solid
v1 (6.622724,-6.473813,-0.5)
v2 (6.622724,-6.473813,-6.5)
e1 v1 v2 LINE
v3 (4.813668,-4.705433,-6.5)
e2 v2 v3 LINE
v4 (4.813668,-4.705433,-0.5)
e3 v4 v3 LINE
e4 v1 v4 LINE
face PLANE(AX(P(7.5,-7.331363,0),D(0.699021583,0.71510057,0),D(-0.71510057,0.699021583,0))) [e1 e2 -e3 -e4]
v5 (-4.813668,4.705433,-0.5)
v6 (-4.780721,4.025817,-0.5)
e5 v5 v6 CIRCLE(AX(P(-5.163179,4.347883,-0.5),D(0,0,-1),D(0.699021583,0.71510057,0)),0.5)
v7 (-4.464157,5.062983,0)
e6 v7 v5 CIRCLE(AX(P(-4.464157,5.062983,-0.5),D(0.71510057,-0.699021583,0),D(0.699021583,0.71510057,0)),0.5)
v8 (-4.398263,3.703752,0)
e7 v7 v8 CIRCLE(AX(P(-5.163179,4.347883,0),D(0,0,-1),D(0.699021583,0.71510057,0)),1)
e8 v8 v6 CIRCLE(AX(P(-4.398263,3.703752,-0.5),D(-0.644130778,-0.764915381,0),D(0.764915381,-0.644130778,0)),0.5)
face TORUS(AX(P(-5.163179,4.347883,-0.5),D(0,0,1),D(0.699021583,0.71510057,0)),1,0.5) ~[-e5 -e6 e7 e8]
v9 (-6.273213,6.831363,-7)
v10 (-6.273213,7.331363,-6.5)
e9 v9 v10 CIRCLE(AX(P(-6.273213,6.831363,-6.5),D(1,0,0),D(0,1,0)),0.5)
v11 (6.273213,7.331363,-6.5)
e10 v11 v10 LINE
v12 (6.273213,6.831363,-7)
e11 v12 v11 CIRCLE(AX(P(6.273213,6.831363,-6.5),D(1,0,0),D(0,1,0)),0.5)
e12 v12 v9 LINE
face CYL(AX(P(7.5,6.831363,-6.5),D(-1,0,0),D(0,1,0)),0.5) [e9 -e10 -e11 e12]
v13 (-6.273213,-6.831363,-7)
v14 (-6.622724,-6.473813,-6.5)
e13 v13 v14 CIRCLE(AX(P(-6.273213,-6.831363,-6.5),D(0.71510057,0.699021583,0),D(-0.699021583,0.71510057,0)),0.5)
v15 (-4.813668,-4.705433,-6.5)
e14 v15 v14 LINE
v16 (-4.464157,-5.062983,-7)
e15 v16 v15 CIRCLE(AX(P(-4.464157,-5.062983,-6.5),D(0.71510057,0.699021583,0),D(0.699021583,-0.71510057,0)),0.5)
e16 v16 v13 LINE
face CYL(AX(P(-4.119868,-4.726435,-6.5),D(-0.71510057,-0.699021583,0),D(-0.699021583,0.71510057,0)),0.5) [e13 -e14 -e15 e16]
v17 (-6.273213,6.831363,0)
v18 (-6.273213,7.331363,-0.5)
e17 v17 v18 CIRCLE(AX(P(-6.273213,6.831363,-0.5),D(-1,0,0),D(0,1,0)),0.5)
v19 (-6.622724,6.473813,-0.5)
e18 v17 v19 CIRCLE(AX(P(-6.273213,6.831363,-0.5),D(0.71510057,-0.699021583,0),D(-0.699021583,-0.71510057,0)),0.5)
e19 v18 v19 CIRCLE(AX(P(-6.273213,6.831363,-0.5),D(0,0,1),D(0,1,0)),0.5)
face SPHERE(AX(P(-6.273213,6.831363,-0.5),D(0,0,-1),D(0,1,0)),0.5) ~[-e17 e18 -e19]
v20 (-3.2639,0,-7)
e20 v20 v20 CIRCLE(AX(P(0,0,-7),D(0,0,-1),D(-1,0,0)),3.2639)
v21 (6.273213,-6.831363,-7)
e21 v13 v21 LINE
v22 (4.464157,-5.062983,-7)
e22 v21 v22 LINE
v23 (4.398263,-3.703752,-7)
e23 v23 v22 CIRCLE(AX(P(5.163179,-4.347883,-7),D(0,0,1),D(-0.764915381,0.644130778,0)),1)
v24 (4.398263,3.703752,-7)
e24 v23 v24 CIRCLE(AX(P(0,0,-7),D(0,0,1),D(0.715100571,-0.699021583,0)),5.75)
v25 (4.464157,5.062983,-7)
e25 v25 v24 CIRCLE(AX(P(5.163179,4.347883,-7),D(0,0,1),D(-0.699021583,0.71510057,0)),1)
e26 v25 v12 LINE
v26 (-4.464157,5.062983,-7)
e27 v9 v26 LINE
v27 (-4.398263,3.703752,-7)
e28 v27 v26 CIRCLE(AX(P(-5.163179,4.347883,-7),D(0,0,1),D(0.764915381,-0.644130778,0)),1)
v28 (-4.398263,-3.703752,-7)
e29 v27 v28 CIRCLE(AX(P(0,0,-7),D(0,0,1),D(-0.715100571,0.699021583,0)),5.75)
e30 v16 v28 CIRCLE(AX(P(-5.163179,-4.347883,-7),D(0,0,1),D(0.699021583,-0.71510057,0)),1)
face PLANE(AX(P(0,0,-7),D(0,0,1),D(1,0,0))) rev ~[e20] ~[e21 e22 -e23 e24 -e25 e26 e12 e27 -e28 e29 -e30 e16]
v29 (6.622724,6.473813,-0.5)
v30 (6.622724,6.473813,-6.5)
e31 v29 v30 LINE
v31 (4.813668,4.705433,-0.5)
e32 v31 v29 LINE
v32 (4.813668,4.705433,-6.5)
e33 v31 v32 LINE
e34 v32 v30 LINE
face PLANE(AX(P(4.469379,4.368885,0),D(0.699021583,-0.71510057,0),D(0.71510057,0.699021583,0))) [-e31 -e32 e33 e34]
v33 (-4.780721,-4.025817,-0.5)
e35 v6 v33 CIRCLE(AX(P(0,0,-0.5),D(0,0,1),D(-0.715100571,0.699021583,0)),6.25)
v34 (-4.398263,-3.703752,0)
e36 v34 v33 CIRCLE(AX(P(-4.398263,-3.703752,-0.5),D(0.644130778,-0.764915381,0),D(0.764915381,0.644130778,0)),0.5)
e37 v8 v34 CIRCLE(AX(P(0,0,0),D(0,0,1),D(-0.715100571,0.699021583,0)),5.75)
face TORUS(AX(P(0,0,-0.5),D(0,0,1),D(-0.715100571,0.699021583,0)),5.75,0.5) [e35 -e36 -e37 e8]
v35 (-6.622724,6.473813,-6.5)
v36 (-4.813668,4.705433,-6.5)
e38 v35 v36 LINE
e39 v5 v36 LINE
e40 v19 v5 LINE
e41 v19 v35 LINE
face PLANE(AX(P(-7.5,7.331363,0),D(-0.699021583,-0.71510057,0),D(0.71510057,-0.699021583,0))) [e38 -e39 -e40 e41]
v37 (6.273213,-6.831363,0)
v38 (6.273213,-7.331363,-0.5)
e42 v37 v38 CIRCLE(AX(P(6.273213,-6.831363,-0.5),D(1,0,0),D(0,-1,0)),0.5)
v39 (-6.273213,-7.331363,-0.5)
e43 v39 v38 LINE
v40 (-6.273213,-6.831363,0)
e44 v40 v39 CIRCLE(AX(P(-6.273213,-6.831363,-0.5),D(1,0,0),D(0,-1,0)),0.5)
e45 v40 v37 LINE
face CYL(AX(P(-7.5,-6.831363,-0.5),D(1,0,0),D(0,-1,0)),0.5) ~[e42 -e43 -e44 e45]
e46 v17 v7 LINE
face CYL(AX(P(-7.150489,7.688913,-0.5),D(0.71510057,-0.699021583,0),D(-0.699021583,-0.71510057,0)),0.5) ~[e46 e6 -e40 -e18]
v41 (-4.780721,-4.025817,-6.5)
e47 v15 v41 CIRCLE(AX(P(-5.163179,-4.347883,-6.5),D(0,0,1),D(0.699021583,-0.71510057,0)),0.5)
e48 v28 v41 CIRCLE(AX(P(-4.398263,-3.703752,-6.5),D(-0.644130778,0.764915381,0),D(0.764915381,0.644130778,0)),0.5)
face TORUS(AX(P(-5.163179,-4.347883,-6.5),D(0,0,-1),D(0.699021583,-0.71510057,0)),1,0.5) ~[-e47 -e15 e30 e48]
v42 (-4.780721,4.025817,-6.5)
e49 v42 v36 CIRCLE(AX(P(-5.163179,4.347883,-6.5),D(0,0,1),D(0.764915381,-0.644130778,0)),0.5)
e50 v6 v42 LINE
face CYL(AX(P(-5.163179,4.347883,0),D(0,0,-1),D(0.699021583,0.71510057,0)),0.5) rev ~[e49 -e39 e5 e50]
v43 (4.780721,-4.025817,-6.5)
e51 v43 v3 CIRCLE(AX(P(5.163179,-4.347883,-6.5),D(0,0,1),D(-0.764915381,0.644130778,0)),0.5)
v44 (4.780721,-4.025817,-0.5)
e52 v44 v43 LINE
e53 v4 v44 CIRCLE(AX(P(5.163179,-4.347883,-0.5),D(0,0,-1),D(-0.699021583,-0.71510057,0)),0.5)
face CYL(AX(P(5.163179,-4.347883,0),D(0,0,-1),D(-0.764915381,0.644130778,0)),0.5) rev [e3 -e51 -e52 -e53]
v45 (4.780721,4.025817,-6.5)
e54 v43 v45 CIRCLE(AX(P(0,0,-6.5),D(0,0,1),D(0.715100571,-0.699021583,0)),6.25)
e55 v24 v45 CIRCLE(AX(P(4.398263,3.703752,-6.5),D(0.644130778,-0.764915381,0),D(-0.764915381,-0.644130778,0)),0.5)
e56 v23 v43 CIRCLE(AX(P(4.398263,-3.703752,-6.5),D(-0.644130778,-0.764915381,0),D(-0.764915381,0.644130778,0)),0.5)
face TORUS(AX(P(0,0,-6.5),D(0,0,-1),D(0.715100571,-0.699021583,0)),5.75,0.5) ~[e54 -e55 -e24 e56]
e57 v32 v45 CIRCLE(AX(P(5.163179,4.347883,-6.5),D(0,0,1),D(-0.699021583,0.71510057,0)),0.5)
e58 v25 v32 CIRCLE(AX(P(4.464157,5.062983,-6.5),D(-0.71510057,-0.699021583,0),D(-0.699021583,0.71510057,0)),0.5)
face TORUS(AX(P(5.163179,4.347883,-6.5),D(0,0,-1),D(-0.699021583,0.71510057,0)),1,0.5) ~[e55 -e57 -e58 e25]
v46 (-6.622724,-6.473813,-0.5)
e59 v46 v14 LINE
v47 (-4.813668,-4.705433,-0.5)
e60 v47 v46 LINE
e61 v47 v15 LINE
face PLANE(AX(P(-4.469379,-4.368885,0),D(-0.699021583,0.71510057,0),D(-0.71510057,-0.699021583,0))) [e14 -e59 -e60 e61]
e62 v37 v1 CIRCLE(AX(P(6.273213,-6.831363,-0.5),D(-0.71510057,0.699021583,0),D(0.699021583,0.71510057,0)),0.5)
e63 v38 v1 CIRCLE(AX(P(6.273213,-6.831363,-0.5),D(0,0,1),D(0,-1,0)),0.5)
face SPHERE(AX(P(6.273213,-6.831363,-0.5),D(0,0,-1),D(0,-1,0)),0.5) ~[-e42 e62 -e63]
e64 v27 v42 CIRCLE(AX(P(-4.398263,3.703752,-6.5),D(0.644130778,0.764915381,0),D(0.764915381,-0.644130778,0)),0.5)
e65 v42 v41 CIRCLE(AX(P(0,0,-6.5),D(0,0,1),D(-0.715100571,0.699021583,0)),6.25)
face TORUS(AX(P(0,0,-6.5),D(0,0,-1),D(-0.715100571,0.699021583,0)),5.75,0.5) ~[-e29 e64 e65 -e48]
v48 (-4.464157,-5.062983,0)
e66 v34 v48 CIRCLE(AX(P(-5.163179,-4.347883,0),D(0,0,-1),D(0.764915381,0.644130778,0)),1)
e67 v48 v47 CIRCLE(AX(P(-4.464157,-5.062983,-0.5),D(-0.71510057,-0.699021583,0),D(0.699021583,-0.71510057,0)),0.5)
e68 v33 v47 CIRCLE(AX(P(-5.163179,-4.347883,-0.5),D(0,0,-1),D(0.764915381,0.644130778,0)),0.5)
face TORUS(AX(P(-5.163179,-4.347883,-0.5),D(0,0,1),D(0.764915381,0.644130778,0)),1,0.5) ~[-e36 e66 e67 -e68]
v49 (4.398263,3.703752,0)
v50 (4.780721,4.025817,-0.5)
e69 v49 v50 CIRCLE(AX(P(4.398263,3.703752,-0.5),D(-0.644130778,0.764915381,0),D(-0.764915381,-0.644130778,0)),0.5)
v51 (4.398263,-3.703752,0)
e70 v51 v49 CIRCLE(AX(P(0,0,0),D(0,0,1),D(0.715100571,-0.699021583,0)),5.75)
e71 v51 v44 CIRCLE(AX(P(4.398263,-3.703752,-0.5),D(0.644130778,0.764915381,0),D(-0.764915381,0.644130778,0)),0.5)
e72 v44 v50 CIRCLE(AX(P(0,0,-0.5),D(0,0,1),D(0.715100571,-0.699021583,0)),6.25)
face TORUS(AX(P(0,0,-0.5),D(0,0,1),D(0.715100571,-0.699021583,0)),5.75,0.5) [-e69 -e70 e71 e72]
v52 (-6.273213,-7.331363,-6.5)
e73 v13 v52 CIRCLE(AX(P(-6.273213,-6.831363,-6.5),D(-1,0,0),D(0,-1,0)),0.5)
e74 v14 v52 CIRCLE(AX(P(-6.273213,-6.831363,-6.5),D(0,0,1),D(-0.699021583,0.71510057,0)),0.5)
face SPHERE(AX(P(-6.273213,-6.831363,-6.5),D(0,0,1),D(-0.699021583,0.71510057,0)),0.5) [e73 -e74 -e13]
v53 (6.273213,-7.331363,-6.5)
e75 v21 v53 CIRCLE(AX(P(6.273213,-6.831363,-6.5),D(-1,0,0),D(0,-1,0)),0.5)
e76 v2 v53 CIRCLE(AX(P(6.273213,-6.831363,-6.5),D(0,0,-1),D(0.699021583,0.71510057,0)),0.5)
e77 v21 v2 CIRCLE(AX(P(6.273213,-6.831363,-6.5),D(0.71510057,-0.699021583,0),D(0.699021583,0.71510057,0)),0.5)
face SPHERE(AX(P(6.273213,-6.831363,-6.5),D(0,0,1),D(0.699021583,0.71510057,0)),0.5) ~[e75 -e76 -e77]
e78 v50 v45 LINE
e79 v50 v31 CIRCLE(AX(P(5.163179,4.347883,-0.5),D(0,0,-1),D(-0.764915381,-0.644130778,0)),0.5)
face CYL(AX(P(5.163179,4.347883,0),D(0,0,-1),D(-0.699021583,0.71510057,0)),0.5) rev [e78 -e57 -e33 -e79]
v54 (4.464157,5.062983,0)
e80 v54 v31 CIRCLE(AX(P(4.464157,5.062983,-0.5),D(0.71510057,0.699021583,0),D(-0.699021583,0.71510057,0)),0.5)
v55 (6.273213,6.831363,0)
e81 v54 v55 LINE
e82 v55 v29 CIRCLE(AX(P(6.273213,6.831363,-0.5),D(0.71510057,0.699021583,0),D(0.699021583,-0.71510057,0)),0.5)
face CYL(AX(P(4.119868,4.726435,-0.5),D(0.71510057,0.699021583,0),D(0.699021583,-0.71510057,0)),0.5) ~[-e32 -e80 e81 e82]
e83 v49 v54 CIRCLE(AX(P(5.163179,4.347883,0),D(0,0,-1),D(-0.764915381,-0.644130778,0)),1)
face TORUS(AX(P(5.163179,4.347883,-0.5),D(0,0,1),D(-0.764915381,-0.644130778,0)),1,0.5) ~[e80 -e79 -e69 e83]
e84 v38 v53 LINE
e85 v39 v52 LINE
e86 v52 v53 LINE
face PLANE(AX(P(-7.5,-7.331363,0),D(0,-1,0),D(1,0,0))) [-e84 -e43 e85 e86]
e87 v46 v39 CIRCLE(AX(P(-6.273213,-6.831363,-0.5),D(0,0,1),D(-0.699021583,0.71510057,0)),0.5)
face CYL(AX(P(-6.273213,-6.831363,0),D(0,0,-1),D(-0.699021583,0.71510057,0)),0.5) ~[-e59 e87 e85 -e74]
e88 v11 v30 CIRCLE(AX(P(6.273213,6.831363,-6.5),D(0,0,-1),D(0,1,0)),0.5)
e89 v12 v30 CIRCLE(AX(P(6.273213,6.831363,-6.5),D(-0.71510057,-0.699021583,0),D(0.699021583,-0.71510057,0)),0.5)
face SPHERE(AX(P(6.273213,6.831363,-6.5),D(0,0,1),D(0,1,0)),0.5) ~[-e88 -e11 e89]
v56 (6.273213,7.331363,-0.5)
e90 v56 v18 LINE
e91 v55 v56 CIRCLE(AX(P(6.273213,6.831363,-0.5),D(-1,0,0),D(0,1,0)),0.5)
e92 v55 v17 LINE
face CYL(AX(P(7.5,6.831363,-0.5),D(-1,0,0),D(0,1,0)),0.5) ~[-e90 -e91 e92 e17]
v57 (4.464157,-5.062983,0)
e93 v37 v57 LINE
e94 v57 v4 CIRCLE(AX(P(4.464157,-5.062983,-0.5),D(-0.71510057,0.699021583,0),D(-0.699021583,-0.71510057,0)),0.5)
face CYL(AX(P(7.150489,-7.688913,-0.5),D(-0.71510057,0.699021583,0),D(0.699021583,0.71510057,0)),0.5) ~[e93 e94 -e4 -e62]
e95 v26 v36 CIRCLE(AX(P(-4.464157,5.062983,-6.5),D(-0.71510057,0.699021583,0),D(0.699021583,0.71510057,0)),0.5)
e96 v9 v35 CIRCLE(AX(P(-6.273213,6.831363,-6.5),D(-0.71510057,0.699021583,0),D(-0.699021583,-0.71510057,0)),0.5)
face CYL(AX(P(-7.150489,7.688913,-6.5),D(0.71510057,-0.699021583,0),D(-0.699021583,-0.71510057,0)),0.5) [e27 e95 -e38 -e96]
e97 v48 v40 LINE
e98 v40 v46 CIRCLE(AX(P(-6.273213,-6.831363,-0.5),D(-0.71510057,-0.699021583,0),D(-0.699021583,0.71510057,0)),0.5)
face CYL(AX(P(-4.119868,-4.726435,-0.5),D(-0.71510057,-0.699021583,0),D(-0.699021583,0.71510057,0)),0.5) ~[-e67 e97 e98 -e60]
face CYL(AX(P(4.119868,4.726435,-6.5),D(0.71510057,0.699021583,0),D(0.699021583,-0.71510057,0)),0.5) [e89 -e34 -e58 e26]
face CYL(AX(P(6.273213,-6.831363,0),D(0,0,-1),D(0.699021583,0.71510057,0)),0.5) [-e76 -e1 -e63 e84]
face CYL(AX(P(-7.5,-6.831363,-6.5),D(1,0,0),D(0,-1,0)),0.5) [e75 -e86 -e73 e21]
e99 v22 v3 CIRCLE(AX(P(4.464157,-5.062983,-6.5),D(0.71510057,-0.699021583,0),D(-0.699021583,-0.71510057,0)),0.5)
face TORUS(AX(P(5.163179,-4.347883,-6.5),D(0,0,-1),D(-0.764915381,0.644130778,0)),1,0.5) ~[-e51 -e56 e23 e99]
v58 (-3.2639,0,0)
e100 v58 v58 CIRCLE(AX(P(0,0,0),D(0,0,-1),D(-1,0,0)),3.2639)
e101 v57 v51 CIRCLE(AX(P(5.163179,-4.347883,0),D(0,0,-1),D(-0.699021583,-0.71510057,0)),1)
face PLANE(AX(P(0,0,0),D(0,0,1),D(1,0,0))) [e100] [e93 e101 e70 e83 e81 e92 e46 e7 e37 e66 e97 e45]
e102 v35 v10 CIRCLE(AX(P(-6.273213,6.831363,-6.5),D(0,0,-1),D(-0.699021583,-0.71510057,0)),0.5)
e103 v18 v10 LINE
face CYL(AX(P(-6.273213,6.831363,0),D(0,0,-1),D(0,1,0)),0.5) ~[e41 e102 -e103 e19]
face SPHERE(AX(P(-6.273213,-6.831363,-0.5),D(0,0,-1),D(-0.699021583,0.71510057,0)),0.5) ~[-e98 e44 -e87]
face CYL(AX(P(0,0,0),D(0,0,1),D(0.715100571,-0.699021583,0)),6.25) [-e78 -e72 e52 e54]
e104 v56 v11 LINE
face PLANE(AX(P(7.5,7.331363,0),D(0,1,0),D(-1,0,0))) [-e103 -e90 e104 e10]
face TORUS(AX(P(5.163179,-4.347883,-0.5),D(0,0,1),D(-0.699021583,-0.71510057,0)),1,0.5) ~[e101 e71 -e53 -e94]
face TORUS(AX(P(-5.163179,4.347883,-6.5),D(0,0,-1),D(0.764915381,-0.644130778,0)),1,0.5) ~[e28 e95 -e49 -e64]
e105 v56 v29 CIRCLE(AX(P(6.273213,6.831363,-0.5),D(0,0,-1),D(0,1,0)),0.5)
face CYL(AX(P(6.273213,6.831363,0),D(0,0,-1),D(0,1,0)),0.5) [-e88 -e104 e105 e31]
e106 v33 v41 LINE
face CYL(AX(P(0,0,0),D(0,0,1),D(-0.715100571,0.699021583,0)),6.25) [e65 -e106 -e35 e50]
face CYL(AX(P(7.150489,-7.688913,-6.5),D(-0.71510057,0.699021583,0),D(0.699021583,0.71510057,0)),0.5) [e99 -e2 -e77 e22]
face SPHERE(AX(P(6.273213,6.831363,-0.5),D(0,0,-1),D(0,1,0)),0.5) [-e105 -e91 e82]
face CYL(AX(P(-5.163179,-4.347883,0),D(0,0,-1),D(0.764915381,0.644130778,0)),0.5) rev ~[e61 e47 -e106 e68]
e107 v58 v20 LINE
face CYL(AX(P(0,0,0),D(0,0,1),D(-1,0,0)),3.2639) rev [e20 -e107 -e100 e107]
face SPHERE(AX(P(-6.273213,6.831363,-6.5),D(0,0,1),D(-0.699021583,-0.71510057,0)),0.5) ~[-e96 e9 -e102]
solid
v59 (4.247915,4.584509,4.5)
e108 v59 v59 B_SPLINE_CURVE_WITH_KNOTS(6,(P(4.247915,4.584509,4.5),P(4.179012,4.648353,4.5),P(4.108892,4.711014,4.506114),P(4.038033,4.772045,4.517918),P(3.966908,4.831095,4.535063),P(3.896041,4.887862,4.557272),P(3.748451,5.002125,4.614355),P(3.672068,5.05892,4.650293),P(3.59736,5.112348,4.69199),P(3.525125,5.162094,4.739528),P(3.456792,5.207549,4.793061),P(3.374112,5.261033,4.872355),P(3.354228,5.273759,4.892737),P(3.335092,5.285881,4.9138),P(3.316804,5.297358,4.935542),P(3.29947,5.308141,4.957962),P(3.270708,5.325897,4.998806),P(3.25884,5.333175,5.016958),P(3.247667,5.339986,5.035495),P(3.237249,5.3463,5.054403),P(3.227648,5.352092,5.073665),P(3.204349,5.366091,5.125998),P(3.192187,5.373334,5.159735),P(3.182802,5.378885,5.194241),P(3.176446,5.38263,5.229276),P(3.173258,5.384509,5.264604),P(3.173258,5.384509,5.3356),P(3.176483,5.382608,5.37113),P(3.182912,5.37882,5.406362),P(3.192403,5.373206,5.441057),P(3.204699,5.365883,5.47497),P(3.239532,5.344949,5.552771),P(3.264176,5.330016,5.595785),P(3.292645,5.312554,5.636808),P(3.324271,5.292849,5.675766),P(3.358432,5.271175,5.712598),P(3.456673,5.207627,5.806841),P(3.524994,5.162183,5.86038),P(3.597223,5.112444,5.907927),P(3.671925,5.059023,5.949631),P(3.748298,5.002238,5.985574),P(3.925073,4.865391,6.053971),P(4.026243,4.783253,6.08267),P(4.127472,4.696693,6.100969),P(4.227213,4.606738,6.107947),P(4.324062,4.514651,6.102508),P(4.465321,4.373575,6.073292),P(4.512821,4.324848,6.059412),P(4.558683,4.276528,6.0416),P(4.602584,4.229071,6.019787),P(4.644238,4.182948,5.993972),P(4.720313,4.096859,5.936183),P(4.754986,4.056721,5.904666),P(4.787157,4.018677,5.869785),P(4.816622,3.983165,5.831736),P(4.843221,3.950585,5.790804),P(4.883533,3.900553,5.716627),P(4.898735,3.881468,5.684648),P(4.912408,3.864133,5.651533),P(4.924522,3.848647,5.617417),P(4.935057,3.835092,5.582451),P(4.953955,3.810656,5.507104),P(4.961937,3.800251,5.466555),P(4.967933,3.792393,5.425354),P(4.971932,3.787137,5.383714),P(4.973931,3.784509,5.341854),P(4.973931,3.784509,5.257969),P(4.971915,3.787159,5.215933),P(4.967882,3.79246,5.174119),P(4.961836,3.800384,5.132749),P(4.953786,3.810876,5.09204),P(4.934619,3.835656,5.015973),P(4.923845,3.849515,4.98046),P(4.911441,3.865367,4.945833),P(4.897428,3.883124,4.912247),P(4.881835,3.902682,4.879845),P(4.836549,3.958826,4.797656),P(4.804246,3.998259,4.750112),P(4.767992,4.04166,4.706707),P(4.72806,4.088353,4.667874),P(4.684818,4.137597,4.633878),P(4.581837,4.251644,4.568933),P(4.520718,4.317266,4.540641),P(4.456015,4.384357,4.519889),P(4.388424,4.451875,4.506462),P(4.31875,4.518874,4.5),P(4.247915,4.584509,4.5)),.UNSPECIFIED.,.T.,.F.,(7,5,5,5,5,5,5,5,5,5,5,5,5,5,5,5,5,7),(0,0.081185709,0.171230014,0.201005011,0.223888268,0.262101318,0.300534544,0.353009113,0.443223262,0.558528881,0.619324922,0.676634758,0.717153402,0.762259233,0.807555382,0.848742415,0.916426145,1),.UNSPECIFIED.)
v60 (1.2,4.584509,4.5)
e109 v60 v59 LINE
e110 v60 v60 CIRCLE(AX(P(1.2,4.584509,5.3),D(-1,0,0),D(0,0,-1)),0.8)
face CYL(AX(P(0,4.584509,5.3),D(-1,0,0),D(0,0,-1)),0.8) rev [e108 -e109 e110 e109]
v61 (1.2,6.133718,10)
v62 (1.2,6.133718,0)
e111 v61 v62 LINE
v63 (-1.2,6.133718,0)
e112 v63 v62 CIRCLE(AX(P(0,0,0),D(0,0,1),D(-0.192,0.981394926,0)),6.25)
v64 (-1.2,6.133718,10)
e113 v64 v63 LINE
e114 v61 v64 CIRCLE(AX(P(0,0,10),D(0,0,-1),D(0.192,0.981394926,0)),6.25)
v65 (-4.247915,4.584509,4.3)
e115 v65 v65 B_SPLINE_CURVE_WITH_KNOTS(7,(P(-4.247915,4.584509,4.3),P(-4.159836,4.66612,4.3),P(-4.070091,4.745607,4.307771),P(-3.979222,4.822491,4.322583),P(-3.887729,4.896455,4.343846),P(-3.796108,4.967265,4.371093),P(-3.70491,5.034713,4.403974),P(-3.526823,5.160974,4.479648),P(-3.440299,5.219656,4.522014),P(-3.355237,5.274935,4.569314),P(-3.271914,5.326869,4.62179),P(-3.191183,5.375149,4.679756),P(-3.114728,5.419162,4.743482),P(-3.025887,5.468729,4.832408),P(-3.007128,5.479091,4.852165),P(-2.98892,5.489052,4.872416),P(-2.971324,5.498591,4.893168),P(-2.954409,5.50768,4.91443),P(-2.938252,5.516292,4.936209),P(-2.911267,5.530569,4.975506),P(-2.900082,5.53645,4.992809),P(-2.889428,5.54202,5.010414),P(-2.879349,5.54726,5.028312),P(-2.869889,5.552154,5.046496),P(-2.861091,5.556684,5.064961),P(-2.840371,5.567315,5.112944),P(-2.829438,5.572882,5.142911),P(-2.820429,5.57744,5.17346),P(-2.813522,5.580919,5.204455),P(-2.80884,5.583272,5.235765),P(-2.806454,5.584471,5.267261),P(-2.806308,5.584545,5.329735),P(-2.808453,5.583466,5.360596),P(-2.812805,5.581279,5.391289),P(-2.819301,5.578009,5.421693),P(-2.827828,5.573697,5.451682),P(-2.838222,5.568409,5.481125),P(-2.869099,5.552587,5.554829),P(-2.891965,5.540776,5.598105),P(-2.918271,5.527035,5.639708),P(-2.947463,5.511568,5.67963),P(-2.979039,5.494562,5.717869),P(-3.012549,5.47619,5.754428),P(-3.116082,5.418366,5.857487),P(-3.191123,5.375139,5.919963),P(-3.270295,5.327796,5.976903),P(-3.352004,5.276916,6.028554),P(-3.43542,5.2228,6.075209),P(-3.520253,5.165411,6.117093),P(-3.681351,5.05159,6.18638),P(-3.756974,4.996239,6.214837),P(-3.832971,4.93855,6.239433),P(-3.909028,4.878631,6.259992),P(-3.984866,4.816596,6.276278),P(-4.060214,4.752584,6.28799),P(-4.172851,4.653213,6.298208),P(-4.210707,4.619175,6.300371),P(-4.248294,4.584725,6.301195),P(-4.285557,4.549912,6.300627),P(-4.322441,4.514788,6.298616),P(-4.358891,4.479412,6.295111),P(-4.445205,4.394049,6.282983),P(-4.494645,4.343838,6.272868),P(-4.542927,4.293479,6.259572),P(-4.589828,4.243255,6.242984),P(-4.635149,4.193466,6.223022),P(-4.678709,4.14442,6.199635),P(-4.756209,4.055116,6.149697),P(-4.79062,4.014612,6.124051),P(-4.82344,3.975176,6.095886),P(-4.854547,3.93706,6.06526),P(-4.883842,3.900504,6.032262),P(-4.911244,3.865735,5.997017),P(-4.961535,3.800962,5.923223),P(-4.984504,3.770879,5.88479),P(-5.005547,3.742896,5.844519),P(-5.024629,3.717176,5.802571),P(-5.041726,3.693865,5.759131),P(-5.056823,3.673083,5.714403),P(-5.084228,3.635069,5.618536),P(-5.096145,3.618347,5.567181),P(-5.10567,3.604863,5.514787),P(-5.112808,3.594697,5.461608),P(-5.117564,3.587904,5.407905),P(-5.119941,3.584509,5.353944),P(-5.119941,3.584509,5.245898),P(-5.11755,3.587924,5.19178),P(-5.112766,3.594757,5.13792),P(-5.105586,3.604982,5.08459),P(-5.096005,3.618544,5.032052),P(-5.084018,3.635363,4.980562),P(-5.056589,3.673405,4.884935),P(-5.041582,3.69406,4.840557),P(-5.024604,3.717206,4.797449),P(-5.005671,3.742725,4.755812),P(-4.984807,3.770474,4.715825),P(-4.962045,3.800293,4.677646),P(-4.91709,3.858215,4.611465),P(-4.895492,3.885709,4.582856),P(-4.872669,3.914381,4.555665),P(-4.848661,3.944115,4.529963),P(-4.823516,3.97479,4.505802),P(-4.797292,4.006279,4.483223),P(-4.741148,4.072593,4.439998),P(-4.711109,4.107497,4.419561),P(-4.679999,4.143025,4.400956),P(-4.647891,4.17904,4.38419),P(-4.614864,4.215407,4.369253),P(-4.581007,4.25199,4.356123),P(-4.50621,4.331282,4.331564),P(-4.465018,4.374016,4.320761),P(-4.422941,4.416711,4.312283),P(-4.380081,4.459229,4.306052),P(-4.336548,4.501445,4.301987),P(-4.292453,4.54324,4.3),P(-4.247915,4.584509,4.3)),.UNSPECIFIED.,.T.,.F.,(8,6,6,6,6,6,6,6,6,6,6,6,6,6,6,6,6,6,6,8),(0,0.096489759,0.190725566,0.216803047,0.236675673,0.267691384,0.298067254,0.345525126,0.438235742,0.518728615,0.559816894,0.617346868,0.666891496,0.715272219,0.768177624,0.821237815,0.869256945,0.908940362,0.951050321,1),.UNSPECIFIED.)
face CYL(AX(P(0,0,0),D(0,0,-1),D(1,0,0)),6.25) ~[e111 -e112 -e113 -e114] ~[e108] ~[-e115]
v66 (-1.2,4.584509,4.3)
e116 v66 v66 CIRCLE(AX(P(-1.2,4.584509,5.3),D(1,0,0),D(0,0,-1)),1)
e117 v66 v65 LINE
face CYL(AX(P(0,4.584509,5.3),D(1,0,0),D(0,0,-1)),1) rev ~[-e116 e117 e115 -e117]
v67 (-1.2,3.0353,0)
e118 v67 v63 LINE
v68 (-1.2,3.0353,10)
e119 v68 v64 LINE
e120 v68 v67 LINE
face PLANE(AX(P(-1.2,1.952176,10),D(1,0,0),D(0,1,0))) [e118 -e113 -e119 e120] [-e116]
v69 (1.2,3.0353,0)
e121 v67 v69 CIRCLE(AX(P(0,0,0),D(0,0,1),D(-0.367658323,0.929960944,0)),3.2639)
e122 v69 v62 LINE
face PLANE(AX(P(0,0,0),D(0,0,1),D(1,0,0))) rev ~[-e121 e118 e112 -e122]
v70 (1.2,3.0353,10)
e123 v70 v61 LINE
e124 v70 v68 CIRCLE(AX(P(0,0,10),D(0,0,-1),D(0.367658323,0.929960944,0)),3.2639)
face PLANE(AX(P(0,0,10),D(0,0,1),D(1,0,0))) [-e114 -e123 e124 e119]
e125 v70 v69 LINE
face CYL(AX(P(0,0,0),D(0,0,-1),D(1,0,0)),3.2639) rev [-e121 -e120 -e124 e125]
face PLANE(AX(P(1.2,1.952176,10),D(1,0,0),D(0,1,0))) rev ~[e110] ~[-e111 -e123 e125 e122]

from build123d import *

# Parameters (mm, degrees)
SKETCH1_R           = 6.25
SKETCH1_R_2         = 3.2639
BOSS_EXTRUDE1_DEPTH = 10
SKETCH2_R           = 3.2639
BOSS_EXTRUDE2_DEPTH = 7
SKETCH3_W           = 2.4
SKETCH3_H           = 5.152631641
CUT_EXTRUDE1_DEPTH  = 10
SKETCH4_R           = 1
CUT_EXTRUDE2_DEPTH  = 8.5
SKETCH5_R           = 0.8
M2X_4_THREAD_DEPTH  = 9.5
FILLET2_R           = 0.5


with BuildPart() as part:
    # Sketch1 → Boss-Extrude1 (new body)
    with BuildSketch(Plane.XY):
        Circle(SKETCH1_R)
        Circle(SKETCH1_R_2, mode=Mode.SUBTRACT)
    extrude(amount=BOSS_EXTRUDE1_DEPTH)

    # Sketch3 → Cut-Extrude1 (cut)
    with BuildSketch(Plane.XY.offset(10)):
        with Locations((0, 4.528492236)):
            Rectangle(SKETCH3_W, SKETCH3_H)
    extrude(amount=-CUT_EXTRUDE1_DEPTH, mode=Mode.SUBTRACT)

    # Sketch4 → Cut-Extrude2 (cut, through all)
    with BuildSketch(Plane(origin=(0, 0, 0), x_dir=(0, 0, -1), z_dir=(1, 0, 0))):
        with Locations((-5.3, 4.584508905)):
            Circle(SKETCH4_R)
    extrude(amount=-CUT_EXTRUDE2_DEPTH, mode=Mode.SUBTRACT)

    # Sketch5 → m2x.4 thread (cut)
    with BuildSketch(Plane(origin=(0, 0, 0), x_dir=(0, 0, -1), z_dir=(1, 0, 0))):
        with Locations((-5.3, 4.584508905)):
            Circle(SKETCH5_R)
    extrude(amount=M2X_4_THREAD_DEPTH, mode=Mode.SUBTRACT)


with BuildPart() as body_2:
    # Sketch2 → Boss-Extrude2 (new body)
    with BuildSketch(Plane(origin=(0, 0, 0), x_dir=(-1, 0, 0), z_dir=(0, 0, -1))):
        with BuildLine():
            Line((-7.5, 7.331363016), (7.5, 7.331363016))
            Line((7.5, 7.331363016), (4.469378566, 4.368884896))
            ThreePointArc((4.469378566, 4.368884896), (6.25, 0), (4.469378566, -4.368884896))
            Line((4.469378566, -4.368884896), (7.5, -7.331363016))
            Line((7.5, -7.331363016), (-7.5, -7.331363016))
            Line((-7.5, -7.331363016), (-4.469378566, -4.368884896))
            ThreePointArc((-4.469378566, -4.368884896), (-6.25, 0), (-4.469378566, 4.368884896))
            Line((-4.469378566, 4.368884896), (-7.5, 7.331363016))
        make_face()
        Circle(SKETCH2_R, mode=Mode.SUBTRACT)
    extrude(amount=BOSS_EXTRUDE2_DEPTH)

    # Fillet2
    fillet2_edges = [body_2.edges().sort_by_distance(p)[0] for p in [
        (5.984689283, -5.850123956, -7),
        (6.25, 0, 0),
        (5.984689283, 5.850123956, 0),
        (0, -7.331363016, -7),
        (7.5, 7.331363016, -3.5),
        (-7.5, 7.331363016, -3.5),
        (-4.469378566, 4.368884896, -3.5),
        (-4.469378566, -4.368884896, -3.5),
        (-7.5, -7.331363016, -3.5),
        (7.5, -7.331363016, -3.5),
        (4.469378566, -4.368884896, -3.5),
        (4.469378566, 4.368884896, -3.5),
        (-5.984689283, -5.850123956, -7),
        (-6.25, 0, -7),
        (-5.984689283, 5.850123956, -7),
        (0, 7.331363016, -7),
        (5.984689283, 5.850123956, -7),
        (6.25, 0, -7),
        (0, 7.331363016, 0),
        (-5.984689283, 5.850123956, 0),
        (-6.25, 0, 0),
        (-5.984689283, -5.850123956, 0),
        (0, -7.331363016, 0),
        (5.984689283, -5.850123956, 0),
    ]]
    fillet(fillet2_edges, radius=FILLET2_R)


solid = Compound([part.part, body_2.part])
